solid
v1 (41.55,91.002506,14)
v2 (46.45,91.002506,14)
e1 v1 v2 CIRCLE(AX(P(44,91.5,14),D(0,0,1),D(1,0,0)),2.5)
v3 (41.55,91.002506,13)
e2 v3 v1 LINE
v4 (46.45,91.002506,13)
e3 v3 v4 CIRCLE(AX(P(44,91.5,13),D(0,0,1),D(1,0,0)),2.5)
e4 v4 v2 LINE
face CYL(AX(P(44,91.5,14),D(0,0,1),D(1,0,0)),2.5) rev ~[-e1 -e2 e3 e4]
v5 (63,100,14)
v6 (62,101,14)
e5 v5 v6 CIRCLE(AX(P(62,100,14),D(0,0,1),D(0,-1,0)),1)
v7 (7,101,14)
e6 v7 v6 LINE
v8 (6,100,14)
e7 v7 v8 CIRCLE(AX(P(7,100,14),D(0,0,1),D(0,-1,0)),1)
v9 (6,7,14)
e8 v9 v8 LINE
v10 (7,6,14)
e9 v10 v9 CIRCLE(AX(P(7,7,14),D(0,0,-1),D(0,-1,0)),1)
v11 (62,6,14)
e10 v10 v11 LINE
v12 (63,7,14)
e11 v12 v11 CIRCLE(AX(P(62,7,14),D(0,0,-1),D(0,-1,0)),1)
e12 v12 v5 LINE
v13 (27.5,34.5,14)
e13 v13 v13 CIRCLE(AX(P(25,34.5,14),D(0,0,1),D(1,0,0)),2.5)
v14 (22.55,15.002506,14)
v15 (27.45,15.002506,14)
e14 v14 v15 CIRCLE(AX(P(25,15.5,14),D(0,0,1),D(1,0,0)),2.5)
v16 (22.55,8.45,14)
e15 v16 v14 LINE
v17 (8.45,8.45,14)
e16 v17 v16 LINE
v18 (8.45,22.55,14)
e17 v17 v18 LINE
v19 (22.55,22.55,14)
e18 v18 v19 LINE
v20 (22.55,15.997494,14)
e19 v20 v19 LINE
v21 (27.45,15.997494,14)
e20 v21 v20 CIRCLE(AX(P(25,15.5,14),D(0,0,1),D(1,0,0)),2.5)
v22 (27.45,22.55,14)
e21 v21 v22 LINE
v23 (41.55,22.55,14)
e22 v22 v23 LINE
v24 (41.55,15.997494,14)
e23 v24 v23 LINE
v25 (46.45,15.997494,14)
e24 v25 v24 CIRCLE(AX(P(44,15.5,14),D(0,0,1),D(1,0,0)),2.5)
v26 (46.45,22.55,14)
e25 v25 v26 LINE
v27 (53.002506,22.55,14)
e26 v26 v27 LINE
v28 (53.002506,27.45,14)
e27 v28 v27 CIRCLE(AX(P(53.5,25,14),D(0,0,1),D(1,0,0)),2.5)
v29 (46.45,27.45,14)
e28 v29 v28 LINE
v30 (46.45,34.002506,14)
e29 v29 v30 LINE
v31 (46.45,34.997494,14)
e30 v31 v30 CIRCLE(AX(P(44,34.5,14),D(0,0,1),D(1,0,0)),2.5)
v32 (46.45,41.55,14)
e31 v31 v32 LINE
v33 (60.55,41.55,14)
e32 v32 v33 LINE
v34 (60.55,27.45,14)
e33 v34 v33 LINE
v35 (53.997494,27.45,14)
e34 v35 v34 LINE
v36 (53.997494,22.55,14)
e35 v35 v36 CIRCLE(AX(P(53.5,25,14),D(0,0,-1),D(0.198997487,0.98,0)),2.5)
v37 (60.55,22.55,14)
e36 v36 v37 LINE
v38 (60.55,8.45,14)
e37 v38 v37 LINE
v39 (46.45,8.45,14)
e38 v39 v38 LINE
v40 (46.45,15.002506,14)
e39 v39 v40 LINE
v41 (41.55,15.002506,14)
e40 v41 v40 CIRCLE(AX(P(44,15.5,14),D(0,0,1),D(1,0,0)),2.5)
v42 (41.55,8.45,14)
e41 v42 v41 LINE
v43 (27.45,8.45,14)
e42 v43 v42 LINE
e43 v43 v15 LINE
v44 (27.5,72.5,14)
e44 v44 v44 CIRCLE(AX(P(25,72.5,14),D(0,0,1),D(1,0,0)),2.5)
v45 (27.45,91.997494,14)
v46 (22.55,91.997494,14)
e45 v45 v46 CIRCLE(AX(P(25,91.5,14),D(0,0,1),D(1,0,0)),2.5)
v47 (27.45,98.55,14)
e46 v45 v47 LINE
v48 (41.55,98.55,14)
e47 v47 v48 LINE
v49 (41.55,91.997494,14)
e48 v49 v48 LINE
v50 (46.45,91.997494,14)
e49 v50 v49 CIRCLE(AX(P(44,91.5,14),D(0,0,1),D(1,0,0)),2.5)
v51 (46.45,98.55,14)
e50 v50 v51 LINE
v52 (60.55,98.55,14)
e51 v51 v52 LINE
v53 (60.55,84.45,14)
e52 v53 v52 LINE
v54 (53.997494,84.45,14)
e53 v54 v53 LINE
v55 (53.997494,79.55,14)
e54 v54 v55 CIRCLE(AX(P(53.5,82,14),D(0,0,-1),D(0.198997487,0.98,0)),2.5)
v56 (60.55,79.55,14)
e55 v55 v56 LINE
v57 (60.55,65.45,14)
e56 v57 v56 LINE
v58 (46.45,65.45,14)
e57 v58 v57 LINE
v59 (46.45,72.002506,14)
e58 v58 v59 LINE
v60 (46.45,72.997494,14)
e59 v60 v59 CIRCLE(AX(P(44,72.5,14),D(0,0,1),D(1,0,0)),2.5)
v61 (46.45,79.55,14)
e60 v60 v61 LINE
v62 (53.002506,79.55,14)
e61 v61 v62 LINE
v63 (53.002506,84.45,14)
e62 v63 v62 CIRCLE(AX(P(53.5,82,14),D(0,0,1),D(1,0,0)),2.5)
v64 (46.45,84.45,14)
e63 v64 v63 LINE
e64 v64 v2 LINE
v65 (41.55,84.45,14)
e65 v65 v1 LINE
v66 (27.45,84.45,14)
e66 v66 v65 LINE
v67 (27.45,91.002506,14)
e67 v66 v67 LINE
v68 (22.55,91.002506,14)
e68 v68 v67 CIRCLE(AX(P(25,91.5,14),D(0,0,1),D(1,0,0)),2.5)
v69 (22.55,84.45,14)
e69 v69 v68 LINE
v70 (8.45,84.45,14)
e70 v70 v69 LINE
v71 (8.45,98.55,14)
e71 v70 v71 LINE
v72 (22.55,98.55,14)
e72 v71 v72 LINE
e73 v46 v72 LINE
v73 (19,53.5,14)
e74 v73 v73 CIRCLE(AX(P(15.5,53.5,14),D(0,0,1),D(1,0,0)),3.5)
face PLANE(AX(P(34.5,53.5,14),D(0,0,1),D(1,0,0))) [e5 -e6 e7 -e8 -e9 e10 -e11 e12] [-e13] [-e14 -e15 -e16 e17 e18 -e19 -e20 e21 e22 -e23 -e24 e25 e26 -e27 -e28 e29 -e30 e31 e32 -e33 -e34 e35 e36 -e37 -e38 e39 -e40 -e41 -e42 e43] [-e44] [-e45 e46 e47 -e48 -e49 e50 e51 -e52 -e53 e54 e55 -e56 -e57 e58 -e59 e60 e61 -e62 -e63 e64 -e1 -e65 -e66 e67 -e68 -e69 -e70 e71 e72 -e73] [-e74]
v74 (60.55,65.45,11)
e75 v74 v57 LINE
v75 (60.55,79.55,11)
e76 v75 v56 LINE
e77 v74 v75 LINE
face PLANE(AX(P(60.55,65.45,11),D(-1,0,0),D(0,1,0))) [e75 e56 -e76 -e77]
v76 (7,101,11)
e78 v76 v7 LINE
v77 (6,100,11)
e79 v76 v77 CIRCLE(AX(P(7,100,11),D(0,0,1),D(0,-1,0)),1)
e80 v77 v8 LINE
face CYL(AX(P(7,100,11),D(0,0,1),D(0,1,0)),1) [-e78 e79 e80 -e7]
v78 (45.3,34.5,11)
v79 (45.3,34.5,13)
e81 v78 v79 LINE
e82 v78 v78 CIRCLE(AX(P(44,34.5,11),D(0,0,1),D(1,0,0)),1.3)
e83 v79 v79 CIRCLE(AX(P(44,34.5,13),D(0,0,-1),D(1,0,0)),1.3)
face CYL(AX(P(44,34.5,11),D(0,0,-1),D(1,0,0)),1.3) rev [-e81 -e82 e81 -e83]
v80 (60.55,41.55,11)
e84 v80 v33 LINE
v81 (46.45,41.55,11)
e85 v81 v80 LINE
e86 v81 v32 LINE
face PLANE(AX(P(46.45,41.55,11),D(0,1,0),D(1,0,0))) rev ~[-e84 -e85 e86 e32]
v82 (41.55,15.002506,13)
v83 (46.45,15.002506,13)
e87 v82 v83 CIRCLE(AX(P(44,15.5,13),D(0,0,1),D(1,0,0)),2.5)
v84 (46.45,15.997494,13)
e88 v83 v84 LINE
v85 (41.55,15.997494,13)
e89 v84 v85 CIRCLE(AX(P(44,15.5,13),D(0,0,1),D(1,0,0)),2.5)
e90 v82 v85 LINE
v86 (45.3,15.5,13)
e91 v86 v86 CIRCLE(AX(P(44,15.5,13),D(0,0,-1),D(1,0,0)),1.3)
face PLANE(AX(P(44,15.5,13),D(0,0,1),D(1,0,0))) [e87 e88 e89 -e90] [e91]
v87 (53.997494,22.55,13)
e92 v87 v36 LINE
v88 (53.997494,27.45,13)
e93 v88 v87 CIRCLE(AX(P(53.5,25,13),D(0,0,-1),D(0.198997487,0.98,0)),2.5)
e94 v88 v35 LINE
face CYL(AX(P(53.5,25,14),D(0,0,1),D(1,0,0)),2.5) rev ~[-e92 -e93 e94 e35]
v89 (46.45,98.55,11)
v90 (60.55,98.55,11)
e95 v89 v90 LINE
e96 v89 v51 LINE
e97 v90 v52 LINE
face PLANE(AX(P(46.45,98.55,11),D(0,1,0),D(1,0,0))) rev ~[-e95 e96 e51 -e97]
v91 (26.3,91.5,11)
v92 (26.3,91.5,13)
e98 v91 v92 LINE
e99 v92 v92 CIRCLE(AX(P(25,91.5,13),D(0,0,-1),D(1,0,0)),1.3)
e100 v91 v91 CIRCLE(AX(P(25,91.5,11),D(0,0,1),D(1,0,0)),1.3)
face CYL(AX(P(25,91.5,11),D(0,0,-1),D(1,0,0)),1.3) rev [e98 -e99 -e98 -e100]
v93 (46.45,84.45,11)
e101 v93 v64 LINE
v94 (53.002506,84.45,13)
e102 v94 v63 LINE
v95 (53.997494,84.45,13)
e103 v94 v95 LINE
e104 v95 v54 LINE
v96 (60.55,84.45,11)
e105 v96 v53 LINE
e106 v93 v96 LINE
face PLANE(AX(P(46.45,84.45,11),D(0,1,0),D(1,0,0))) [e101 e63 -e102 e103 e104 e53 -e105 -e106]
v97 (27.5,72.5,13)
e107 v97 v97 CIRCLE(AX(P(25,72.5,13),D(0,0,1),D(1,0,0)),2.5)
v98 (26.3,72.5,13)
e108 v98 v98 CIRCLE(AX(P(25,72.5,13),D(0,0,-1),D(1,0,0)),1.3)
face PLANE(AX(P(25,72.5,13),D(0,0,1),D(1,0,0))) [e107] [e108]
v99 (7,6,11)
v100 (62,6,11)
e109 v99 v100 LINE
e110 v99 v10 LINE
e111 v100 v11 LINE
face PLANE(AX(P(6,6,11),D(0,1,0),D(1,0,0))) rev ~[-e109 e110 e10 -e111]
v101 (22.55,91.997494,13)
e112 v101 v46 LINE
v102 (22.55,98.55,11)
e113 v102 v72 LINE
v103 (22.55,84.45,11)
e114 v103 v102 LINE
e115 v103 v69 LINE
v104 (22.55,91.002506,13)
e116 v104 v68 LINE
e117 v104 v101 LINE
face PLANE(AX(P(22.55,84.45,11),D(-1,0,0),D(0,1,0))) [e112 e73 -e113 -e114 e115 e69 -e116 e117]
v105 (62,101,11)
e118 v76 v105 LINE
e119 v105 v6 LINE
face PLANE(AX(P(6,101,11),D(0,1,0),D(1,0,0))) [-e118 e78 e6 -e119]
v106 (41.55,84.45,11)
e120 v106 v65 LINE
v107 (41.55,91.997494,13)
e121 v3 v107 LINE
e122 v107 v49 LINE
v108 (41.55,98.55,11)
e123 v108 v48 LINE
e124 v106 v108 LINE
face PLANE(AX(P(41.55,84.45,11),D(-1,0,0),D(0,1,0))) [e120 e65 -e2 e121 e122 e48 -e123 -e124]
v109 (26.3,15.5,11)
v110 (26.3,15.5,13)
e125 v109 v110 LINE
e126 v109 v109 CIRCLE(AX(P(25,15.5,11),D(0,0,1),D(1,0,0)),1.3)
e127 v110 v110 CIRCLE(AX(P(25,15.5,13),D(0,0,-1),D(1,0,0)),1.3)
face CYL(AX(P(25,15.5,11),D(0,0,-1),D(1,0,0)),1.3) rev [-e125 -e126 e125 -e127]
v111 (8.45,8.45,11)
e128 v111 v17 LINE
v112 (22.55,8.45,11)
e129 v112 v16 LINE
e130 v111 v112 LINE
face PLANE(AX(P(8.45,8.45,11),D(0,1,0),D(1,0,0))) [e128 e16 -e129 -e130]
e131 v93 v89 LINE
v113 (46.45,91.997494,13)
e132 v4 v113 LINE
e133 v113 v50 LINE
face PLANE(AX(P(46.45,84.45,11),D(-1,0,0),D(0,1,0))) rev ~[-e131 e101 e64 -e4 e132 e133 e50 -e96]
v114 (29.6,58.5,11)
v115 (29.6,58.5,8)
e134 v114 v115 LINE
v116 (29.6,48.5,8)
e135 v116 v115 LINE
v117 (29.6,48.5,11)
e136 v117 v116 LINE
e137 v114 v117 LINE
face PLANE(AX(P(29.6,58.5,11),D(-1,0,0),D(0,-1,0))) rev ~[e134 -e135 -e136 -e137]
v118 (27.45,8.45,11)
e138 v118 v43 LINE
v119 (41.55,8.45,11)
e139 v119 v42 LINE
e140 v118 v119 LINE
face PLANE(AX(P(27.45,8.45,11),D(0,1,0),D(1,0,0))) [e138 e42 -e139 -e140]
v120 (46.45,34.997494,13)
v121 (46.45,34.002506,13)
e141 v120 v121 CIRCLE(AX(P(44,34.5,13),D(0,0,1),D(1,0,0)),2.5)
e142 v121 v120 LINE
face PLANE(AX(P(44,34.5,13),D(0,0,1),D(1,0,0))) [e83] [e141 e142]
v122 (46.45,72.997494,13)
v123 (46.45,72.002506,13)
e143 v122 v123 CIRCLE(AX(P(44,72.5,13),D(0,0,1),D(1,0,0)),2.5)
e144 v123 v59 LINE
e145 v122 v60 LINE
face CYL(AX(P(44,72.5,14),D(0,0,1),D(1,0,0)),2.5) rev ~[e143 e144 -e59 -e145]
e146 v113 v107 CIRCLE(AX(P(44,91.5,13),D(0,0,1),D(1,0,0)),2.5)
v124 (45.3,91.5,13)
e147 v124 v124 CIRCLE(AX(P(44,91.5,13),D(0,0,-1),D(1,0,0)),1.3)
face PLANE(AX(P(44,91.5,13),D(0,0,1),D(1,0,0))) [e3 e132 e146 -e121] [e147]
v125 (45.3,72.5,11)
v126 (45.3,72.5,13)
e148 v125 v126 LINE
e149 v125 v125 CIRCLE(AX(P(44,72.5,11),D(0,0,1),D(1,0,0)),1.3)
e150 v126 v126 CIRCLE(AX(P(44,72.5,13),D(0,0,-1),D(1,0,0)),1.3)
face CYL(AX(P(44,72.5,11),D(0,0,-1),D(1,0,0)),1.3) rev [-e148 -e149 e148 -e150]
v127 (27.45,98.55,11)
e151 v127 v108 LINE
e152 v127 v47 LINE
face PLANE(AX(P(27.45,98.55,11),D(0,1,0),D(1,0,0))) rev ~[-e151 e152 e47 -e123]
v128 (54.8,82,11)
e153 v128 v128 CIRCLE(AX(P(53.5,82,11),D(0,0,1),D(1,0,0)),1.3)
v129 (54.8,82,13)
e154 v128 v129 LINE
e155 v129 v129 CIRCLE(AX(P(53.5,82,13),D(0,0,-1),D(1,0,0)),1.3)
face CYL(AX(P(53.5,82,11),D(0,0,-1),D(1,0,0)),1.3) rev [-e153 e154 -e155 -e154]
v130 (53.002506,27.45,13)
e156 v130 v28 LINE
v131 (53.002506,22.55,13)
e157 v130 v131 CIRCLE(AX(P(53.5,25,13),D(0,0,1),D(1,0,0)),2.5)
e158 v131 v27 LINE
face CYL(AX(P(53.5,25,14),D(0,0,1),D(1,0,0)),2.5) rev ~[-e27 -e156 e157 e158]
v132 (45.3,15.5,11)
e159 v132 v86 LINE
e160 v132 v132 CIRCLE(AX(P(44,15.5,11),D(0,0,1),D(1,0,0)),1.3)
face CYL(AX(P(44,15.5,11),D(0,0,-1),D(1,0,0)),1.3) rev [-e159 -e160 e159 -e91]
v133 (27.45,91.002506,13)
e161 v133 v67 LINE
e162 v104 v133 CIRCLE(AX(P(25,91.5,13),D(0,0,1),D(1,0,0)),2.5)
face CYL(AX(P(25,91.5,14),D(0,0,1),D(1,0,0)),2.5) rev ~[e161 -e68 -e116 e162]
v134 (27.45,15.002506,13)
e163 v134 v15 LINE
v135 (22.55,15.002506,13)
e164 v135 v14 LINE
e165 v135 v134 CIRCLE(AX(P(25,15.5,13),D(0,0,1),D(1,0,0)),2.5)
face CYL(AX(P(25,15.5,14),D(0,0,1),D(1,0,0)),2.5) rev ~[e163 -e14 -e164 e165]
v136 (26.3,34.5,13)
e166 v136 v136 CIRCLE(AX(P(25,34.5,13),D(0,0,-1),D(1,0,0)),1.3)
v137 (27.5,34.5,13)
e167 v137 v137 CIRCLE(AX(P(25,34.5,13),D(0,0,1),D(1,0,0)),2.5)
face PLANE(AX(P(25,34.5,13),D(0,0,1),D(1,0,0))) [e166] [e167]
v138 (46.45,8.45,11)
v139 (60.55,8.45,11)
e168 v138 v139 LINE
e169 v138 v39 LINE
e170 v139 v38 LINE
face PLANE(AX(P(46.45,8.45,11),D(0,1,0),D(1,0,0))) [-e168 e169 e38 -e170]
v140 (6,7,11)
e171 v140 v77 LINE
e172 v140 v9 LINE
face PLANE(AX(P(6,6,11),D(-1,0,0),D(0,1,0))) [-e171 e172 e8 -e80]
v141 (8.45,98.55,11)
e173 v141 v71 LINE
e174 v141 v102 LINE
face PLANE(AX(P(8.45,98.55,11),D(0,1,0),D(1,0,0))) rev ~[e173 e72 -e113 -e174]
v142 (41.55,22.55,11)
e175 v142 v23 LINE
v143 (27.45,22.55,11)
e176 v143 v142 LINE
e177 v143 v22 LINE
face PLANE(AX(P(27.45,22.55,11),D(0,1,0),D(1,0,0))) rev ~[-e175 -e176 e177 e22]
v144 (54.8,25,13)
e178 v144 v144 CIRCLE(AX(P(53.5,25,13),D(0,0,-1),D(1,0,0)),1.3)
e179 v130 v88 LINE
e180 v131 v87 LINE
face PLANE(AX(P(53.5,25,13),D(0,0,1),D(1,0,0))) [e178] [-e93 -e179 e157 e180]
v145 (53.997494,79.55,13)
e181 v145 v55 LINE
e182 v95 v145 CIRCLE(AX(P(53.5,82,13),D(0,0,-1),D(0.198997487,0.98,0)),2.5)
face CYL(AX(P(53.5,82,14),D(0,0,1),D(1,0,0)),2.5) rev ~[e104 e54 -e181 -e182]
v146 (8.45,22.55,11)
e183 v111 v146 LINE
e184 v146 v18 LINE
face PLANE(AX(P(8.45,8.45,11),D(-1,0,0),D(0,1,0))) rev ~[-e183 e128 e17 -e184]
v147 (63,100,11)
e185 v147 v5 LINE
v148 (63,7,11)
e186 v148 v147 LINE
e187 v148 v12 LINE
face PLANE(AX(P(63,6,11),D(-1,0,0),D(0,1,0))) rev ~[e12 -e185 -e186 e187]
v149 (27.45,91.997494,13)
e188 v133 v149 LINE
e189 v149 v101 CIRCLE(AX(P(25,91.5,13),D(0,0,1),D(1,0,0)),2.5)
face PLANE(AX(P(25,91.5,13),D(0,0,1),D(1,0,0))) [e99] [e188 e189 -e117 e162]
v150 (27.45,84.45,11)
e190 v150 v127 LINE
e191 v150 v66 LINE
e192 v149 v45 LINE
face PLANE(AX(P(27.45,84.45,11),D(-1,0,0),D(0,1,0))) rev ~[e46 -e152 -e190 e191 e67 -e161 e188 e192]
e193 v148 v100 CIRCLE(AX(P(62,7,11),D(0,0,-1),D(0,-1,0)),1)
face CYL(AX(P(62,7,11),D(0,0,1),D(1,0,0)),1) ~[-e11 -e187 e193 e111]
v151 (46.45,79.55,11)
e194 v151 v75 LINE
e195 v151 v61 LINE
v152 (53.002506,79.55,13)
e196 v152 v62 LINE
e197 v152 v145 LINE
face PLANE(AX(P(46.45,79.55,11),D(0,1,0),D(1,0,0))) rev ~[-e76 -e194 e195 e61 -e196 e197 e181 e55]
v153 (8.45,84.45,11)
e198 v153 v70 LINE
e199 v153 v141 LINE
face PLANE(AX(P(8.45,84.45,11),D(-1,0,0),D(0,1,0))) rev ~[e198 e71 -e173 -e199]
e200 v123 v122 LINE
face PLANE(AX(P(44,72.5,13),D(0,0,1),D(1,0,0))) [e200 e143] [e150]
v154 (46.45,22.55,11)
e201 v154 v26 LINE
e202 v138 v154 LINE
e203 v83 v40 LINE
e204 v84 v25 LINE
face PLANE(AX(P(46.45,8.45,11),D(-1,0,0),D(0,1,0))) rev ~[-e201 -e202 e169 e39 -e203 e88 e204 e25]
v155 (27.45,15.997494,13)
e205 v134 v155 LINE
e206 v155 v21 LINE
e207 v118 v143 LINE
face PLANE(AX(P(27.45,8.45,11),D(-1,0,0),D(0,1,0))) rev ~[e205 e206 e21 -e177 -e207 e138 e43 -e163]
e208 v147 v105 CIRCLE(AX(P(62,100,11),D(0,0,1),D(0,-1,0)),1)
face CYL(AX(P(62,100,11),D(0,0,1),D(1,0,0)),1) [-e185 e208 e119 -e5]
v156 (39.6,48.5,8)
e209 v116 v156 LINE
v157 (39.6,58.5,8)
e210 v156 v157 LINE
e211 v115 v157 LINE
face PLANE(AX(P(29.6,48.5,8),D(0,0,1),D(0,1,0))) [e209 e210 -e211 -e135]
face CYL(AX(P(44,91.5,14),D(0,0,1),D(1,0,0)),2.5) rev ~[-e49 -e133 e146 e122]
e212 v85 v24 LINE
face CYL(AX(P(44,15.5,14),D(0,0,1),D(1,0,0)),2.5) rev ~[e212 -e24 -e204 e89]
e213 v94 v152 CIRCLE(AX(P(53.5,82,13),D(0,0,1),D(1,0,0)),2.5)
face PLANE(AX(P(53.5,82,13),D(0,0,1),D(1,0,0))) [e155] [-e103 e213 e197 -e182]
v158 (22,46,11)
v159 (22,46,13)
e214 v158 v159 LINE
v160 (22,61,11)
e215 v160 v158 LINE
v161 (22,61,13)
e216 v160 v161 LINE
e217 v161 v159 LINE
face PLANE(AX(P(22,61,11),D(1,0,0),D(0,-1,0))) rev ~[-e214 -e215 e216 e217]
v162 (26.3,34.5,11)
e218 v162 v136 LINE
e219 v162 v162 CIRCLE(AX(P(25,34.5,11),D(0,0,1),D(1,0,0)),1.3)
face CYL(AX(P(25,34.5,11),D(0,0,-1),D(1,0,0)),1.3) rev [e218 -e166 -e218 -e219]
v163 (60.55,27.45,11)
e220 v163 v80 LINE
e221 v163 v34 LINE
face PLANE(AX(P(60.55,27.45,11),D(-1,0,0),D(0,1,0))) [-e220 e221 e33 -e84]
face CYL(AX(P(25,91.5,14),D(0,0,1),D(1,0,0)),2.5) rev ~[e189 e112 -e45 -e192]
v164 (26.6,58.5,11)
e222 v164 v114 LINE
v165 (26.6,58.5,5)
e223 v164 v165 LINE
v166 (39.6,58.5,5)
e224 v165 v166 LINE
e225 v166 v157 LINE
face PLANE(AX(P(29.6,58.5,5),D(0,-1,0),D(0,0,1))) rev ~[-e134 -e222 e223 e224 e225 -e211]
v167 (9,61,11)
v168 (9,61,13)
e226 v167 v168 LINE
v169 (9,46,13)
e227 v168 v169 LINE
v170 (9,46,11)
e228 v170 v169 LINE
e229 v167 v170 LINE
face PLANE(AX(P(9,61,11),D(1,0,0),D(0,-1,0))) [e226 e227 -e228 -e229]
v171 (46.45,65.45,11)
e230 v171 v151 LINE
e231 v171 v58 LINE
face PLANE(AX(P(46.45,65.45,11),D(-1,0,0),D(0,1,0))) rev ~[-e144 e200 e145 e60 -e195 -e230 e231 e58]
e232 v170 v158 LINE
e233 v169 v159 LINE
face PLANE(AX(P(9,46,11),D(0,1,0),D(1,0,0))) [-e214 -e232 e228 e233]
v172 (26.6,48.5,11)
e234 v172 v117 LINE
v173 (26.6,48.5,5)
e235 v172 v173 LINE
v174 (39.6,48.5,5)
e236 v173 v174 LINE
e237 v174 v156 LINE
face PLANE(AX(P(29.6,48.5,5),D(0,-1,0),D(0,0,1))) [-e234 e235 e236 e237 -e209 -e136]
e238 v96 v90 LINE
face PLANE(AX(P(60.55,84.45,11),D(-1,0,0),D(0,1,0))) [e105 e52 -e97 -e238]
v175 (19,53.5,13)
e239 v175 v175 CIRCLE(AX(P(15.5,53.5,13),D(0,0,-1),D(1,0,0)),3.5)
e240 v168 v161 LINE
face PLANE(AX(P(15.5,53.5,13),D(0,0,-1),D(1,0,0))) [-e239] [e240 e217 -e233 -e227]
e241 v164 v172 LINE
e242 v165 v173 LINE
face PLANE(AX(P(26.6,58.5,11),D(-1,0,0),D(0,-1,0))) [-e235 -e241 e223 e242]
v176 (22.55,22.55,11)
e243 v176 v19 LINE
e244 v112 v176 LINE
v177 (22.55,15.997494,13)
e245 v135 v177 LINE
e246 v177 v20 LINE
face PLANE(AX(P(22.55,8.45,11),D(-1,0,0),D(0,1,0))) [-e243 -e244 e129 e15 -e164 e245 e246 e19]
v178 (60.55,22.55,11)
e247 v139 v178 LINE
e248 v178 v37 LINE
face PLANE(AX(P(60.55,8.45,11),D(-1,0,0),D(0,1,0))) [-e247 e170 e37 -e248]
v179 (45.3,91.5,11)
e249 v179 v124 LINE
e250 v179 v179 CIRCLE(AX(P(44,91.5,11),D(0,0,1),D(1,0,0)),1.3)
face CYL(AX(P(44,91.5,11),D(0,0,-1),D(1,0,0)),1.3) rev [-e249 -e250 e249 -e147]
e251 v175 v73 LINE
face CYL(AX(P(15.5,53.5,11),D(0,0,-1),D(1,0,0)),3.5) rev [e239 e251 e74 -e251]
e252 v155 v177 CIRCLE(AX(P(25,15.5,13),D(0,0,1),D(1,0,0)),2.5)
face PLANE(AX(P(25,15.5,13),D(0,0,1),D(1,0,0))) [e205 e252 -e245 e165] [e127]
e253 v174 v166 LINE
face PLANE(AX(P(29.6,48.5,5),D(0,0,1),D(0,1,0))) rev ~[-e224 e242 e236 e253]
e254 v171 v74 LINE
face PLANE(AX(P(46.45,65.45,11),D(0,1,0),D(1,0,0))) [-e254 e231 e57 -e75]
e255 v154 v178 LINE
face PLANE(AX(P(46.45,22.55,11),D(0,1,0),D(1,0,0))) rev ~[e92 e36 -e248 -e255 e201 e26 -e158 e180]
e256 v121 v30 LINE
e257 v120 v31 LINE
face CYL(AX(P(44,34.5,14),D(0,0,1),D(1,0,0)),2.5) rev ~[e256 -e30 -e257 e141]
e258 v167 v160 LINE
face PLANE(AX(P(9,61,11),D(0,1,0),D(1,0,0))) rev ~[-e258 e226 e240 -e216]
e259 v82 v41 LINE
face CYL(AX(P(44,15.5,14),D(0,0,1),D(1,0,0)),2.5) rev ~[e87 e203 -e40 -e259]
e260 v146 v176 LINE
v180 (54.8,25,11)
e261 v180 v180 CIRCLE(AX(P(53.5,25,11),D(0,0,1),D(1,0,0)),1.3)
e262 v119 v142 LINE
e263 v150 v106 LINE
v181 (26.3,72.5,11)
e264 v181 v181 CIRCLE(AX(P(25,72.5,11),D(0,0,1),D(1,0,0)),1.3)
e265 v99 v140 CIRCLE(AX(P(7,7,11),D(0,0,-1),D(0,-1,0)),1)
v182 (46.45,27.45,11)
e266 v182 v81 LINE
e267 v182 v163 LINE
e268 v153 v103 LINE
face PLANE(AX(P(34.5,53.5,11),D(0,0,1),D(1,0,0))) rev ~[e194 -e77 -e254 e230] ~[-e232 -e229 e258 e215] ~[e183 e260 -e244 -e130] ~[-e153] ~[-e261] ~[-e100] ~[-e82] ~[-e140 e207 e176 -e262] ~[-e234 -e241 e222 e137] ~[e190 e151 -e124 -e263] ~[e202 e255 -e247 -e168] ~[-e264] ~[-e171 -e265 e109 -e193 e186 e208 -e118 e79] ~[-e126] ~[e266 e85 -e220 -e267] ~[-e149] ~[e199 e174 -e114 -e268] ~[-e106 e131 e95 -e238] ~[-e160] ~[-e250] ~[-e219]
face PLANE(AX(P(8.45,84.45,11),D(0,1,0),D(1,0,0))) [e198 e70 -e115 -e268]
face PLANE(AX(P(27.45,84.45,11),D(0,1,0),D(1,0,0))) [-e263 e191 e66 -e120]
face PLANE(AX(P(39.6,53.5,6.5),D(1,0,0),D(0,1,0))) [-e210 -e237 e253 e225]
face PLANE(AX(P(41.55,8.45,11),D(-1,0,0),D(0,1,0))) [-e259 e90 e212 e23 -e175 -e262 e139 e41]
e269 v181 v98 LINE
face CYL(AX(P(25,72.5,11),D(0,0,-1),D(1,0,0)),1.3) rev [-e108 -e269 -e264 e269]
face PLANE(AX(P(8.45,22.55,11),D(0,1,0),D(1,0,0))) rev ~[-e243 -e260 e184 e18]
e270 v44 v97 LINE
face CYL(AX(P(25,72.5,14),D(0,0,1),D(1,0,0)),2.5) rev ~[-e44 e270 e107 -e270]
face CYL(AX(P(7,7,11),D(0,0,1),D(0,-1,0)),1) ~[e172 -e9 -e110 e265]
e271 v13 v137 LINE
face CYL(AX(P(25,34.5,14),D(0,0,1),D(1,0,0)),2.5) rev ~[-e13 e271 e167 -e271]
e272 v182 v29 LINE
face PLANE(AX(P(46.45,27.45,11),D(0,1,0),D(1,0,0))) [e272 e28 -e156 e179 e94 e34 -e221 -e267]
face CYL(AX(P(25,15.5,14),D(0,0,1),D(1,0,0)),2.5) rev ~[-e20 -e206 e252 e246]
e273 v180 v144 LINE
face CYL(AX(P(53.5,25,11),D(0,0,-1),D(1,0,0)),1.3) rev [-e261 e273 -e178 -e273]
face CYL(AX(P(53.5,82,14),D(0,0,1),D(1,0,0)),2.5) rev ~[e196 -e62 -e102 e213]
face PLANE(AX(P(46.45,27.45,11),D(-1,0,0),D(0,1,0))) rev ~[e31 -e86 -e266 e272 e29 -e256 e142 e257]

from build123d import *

# Parameters (mm, degrees)
SKETCH_W        = 57
SKETCH_H        = 95
SKETCH_R        = 3.5
SKETCH_R_2      = 1.3
SKETCH_W_2      = 14.1
SKETCH_H_2      = 14.1
PAD_DEPTH       = 3
SKETCH008_R     = 2.5
POCKET_DEPTH    = 1
SKETCH009_W     = 3
SKETCH009_H     = 10
PAD002_DEPTH    = 6
SKETCH010_W     = 13
SKETCH010_H     = 15
POCKET006_DEPTH = 2
SKETCH011_W     = 10
SKETCH011_H     = 3
PAD003_DEPTH    = 10
FILLET_R        = 1


with BuildPart() as part:
    # Sketch → Pad (new body)
    with BuildSketch(Plane.XY):
        with Locations((28.5, 47.5)):
            Rectangle(SKETCH_W, SKETCH_H)
        with Locations((9.5, 47.5)):
            Circle(SKETCH_R, mode=Mode.SUBTRACT)
        with Locations((19, 85.5)):
            Circle(SKETCH_R_2, mode=Mode.SUBTRACT)
        with Locations((38, 85.5)):
            Circle(SKETCH_R_2, mode=Mode.SUBTRACT)
        with Locations((38, 66.5)):
            Circle(SKETCH_R_2, mode=Mode.SUBTRACT)
        with Locations((19, 66.5)):
            Circle(SKETCH_R_2, mode=Mode.SUBTRACT)
        with Locations((38, 28.5)):
            Circle(SKETCH_R_2, mode=Mode.SUBTRACT)
        with Locations((19, 28.5)):
            Circle(SKETCH_R_2, mode=Mode.SUBTRACT)
        with Locations((19, 9.5)):
            Circle(SKETCH_R_2, mode=Mode.SUBTRACT)
        with Locations((38, 9.5)):
            Circle(SKETCH_R_2, mode=Mode.SUBTRACT)
        with Locations((47.5, 19)):
            Circle(SKETCH_R_2, mode=Mode.SUBTRACT)
        with Locations((47.5, 76)):
            Circle(SKETCH_R_2, mode=Mode.SUBTRACT)
        with Locations((9.5, 9.5)):
            Rectangle(SKETCH_W_2, SKETCH_H_2, mode=Mode.SUBTRACT)
        with Locations((28.5, 9.5)):
            Rectangle(SKETCH_W_2, SKETCH_H_2, mode=Mode.SUBTRACT)
        with Locations((47.5, 9.5)):
            Rectangle(SKETCH_W_2, SKETCH_H_2, mode=Mode.SUBTRACT)
        with Locations((47.5, 28.5)):
            Rectangle(SKETCH_W_2, SKETCH_H_2, mode=Mode.SUBTRACT)
        with Locations((47.5, 66.5)):
            Rectangle(SKETCH_W_2, SKETCH_H_2, mode=Mode.SUBTRACT)
        with Locations((47.5, 85.5)):
            Rectangle(SKETCH_W_2, SKETCH_H_2, mode=Mode.SUBTRACT)
        with Locations((28.5, 85.5)):
            Rectangle(SKETCH_W_2, SKETCH_H_2, mode=Mode.SUBTRACT)
        with Locations((9.5, 85.5)):
            Rectangle(SKETCH_W_2, SKETCH_H_2, mode=Mode.SUBTRACT)
    extrude(amount=PAD_DEPTH)

    # Sketch008 (on Face49 of Pad) → Pocket (cut)
    with BuildSketch(Plane.XY.offset(3)):
        with Locations((19, 28.5)):
            Circle(SKETCH008_R)
        with Locations((38, 28.5)):
            Circle(SKETCH008_R)
        with Locations((47.5, 19)):
            Circle(SKETCH008_R)
        with Locations((38, 9.5)):
            Circle(SKETCH008_R)
        with Locations((19, 9.5)):
            Circle(SKETCH008_R)
        with Locations((19, 66.5)):
            Circle(SKETCH008_R)
        with Locations((38, 85.5)):
            Circle(SKETCH008_R)
        with Locations((38, 66.5)):
            Circle(SKETCH008_R)
        with Locations((47.5, 76)):
            Circle(SKETCH008_R)
        with Locations((19, 85.5)):
            Circle(SKETCH008_R)
    extrude(amount=-POCKET_DEPTH, mode=Mode.SUBTRACT)

    # Sketch009 (on Face4 of Pocket) → Pad002 (join)
    with BuildSketch(Plane(origin=(0, 0, 0), x_dir=(1, 0, 0), z_dir=(0, 0, -1))):
        with Locations((22.1, -47.5)):
            Rectangle(SKETCH009_W, SKETCH009_H)
    extrude(amount=PAD002_DEPTH)

    # Sketch010 (on Face4 of Pad002) → Pocket006 (cut)
    with BuildSketch(Plane(origin=(0, 0, 0), x_dir=(1, 0, 0), z_dir=(0, 0, -1))):
        with Locations((9.5, -47.5)):
            Rectangle(SKETCH010_W, SKETCH010_H)
    extrude(amount=-POCKET006_DEPTH, mode=Mode.SUBTRACT)

    # Sketch011 (on Face32 of Pocket006) → Pad003 (join)
    with BuildSketch(Plane.YZ.offset(23.6)):
        with Locations((47.5, -4.5)):
            Rectangle(SKETCH011_W, SKETCH011_H)
    extrude(amount=PAD003_DEPTH)

    # Fillet
    fillet_edges = [part.edges().sort_by_distance(p)[0] for p in [
        (57, 0, 1.5),
        (0, 0, 1.5),
        (0, 95, 1.5),
        (57, 95, 1.5),
    ]]
    fillet(fillet_edges, radius=FILLET_R)


with BuildPart() as part_1:
    # Body placement: moved
    add(part.part.moved(Location((6, 6, 11))))


solid = part_1.part
